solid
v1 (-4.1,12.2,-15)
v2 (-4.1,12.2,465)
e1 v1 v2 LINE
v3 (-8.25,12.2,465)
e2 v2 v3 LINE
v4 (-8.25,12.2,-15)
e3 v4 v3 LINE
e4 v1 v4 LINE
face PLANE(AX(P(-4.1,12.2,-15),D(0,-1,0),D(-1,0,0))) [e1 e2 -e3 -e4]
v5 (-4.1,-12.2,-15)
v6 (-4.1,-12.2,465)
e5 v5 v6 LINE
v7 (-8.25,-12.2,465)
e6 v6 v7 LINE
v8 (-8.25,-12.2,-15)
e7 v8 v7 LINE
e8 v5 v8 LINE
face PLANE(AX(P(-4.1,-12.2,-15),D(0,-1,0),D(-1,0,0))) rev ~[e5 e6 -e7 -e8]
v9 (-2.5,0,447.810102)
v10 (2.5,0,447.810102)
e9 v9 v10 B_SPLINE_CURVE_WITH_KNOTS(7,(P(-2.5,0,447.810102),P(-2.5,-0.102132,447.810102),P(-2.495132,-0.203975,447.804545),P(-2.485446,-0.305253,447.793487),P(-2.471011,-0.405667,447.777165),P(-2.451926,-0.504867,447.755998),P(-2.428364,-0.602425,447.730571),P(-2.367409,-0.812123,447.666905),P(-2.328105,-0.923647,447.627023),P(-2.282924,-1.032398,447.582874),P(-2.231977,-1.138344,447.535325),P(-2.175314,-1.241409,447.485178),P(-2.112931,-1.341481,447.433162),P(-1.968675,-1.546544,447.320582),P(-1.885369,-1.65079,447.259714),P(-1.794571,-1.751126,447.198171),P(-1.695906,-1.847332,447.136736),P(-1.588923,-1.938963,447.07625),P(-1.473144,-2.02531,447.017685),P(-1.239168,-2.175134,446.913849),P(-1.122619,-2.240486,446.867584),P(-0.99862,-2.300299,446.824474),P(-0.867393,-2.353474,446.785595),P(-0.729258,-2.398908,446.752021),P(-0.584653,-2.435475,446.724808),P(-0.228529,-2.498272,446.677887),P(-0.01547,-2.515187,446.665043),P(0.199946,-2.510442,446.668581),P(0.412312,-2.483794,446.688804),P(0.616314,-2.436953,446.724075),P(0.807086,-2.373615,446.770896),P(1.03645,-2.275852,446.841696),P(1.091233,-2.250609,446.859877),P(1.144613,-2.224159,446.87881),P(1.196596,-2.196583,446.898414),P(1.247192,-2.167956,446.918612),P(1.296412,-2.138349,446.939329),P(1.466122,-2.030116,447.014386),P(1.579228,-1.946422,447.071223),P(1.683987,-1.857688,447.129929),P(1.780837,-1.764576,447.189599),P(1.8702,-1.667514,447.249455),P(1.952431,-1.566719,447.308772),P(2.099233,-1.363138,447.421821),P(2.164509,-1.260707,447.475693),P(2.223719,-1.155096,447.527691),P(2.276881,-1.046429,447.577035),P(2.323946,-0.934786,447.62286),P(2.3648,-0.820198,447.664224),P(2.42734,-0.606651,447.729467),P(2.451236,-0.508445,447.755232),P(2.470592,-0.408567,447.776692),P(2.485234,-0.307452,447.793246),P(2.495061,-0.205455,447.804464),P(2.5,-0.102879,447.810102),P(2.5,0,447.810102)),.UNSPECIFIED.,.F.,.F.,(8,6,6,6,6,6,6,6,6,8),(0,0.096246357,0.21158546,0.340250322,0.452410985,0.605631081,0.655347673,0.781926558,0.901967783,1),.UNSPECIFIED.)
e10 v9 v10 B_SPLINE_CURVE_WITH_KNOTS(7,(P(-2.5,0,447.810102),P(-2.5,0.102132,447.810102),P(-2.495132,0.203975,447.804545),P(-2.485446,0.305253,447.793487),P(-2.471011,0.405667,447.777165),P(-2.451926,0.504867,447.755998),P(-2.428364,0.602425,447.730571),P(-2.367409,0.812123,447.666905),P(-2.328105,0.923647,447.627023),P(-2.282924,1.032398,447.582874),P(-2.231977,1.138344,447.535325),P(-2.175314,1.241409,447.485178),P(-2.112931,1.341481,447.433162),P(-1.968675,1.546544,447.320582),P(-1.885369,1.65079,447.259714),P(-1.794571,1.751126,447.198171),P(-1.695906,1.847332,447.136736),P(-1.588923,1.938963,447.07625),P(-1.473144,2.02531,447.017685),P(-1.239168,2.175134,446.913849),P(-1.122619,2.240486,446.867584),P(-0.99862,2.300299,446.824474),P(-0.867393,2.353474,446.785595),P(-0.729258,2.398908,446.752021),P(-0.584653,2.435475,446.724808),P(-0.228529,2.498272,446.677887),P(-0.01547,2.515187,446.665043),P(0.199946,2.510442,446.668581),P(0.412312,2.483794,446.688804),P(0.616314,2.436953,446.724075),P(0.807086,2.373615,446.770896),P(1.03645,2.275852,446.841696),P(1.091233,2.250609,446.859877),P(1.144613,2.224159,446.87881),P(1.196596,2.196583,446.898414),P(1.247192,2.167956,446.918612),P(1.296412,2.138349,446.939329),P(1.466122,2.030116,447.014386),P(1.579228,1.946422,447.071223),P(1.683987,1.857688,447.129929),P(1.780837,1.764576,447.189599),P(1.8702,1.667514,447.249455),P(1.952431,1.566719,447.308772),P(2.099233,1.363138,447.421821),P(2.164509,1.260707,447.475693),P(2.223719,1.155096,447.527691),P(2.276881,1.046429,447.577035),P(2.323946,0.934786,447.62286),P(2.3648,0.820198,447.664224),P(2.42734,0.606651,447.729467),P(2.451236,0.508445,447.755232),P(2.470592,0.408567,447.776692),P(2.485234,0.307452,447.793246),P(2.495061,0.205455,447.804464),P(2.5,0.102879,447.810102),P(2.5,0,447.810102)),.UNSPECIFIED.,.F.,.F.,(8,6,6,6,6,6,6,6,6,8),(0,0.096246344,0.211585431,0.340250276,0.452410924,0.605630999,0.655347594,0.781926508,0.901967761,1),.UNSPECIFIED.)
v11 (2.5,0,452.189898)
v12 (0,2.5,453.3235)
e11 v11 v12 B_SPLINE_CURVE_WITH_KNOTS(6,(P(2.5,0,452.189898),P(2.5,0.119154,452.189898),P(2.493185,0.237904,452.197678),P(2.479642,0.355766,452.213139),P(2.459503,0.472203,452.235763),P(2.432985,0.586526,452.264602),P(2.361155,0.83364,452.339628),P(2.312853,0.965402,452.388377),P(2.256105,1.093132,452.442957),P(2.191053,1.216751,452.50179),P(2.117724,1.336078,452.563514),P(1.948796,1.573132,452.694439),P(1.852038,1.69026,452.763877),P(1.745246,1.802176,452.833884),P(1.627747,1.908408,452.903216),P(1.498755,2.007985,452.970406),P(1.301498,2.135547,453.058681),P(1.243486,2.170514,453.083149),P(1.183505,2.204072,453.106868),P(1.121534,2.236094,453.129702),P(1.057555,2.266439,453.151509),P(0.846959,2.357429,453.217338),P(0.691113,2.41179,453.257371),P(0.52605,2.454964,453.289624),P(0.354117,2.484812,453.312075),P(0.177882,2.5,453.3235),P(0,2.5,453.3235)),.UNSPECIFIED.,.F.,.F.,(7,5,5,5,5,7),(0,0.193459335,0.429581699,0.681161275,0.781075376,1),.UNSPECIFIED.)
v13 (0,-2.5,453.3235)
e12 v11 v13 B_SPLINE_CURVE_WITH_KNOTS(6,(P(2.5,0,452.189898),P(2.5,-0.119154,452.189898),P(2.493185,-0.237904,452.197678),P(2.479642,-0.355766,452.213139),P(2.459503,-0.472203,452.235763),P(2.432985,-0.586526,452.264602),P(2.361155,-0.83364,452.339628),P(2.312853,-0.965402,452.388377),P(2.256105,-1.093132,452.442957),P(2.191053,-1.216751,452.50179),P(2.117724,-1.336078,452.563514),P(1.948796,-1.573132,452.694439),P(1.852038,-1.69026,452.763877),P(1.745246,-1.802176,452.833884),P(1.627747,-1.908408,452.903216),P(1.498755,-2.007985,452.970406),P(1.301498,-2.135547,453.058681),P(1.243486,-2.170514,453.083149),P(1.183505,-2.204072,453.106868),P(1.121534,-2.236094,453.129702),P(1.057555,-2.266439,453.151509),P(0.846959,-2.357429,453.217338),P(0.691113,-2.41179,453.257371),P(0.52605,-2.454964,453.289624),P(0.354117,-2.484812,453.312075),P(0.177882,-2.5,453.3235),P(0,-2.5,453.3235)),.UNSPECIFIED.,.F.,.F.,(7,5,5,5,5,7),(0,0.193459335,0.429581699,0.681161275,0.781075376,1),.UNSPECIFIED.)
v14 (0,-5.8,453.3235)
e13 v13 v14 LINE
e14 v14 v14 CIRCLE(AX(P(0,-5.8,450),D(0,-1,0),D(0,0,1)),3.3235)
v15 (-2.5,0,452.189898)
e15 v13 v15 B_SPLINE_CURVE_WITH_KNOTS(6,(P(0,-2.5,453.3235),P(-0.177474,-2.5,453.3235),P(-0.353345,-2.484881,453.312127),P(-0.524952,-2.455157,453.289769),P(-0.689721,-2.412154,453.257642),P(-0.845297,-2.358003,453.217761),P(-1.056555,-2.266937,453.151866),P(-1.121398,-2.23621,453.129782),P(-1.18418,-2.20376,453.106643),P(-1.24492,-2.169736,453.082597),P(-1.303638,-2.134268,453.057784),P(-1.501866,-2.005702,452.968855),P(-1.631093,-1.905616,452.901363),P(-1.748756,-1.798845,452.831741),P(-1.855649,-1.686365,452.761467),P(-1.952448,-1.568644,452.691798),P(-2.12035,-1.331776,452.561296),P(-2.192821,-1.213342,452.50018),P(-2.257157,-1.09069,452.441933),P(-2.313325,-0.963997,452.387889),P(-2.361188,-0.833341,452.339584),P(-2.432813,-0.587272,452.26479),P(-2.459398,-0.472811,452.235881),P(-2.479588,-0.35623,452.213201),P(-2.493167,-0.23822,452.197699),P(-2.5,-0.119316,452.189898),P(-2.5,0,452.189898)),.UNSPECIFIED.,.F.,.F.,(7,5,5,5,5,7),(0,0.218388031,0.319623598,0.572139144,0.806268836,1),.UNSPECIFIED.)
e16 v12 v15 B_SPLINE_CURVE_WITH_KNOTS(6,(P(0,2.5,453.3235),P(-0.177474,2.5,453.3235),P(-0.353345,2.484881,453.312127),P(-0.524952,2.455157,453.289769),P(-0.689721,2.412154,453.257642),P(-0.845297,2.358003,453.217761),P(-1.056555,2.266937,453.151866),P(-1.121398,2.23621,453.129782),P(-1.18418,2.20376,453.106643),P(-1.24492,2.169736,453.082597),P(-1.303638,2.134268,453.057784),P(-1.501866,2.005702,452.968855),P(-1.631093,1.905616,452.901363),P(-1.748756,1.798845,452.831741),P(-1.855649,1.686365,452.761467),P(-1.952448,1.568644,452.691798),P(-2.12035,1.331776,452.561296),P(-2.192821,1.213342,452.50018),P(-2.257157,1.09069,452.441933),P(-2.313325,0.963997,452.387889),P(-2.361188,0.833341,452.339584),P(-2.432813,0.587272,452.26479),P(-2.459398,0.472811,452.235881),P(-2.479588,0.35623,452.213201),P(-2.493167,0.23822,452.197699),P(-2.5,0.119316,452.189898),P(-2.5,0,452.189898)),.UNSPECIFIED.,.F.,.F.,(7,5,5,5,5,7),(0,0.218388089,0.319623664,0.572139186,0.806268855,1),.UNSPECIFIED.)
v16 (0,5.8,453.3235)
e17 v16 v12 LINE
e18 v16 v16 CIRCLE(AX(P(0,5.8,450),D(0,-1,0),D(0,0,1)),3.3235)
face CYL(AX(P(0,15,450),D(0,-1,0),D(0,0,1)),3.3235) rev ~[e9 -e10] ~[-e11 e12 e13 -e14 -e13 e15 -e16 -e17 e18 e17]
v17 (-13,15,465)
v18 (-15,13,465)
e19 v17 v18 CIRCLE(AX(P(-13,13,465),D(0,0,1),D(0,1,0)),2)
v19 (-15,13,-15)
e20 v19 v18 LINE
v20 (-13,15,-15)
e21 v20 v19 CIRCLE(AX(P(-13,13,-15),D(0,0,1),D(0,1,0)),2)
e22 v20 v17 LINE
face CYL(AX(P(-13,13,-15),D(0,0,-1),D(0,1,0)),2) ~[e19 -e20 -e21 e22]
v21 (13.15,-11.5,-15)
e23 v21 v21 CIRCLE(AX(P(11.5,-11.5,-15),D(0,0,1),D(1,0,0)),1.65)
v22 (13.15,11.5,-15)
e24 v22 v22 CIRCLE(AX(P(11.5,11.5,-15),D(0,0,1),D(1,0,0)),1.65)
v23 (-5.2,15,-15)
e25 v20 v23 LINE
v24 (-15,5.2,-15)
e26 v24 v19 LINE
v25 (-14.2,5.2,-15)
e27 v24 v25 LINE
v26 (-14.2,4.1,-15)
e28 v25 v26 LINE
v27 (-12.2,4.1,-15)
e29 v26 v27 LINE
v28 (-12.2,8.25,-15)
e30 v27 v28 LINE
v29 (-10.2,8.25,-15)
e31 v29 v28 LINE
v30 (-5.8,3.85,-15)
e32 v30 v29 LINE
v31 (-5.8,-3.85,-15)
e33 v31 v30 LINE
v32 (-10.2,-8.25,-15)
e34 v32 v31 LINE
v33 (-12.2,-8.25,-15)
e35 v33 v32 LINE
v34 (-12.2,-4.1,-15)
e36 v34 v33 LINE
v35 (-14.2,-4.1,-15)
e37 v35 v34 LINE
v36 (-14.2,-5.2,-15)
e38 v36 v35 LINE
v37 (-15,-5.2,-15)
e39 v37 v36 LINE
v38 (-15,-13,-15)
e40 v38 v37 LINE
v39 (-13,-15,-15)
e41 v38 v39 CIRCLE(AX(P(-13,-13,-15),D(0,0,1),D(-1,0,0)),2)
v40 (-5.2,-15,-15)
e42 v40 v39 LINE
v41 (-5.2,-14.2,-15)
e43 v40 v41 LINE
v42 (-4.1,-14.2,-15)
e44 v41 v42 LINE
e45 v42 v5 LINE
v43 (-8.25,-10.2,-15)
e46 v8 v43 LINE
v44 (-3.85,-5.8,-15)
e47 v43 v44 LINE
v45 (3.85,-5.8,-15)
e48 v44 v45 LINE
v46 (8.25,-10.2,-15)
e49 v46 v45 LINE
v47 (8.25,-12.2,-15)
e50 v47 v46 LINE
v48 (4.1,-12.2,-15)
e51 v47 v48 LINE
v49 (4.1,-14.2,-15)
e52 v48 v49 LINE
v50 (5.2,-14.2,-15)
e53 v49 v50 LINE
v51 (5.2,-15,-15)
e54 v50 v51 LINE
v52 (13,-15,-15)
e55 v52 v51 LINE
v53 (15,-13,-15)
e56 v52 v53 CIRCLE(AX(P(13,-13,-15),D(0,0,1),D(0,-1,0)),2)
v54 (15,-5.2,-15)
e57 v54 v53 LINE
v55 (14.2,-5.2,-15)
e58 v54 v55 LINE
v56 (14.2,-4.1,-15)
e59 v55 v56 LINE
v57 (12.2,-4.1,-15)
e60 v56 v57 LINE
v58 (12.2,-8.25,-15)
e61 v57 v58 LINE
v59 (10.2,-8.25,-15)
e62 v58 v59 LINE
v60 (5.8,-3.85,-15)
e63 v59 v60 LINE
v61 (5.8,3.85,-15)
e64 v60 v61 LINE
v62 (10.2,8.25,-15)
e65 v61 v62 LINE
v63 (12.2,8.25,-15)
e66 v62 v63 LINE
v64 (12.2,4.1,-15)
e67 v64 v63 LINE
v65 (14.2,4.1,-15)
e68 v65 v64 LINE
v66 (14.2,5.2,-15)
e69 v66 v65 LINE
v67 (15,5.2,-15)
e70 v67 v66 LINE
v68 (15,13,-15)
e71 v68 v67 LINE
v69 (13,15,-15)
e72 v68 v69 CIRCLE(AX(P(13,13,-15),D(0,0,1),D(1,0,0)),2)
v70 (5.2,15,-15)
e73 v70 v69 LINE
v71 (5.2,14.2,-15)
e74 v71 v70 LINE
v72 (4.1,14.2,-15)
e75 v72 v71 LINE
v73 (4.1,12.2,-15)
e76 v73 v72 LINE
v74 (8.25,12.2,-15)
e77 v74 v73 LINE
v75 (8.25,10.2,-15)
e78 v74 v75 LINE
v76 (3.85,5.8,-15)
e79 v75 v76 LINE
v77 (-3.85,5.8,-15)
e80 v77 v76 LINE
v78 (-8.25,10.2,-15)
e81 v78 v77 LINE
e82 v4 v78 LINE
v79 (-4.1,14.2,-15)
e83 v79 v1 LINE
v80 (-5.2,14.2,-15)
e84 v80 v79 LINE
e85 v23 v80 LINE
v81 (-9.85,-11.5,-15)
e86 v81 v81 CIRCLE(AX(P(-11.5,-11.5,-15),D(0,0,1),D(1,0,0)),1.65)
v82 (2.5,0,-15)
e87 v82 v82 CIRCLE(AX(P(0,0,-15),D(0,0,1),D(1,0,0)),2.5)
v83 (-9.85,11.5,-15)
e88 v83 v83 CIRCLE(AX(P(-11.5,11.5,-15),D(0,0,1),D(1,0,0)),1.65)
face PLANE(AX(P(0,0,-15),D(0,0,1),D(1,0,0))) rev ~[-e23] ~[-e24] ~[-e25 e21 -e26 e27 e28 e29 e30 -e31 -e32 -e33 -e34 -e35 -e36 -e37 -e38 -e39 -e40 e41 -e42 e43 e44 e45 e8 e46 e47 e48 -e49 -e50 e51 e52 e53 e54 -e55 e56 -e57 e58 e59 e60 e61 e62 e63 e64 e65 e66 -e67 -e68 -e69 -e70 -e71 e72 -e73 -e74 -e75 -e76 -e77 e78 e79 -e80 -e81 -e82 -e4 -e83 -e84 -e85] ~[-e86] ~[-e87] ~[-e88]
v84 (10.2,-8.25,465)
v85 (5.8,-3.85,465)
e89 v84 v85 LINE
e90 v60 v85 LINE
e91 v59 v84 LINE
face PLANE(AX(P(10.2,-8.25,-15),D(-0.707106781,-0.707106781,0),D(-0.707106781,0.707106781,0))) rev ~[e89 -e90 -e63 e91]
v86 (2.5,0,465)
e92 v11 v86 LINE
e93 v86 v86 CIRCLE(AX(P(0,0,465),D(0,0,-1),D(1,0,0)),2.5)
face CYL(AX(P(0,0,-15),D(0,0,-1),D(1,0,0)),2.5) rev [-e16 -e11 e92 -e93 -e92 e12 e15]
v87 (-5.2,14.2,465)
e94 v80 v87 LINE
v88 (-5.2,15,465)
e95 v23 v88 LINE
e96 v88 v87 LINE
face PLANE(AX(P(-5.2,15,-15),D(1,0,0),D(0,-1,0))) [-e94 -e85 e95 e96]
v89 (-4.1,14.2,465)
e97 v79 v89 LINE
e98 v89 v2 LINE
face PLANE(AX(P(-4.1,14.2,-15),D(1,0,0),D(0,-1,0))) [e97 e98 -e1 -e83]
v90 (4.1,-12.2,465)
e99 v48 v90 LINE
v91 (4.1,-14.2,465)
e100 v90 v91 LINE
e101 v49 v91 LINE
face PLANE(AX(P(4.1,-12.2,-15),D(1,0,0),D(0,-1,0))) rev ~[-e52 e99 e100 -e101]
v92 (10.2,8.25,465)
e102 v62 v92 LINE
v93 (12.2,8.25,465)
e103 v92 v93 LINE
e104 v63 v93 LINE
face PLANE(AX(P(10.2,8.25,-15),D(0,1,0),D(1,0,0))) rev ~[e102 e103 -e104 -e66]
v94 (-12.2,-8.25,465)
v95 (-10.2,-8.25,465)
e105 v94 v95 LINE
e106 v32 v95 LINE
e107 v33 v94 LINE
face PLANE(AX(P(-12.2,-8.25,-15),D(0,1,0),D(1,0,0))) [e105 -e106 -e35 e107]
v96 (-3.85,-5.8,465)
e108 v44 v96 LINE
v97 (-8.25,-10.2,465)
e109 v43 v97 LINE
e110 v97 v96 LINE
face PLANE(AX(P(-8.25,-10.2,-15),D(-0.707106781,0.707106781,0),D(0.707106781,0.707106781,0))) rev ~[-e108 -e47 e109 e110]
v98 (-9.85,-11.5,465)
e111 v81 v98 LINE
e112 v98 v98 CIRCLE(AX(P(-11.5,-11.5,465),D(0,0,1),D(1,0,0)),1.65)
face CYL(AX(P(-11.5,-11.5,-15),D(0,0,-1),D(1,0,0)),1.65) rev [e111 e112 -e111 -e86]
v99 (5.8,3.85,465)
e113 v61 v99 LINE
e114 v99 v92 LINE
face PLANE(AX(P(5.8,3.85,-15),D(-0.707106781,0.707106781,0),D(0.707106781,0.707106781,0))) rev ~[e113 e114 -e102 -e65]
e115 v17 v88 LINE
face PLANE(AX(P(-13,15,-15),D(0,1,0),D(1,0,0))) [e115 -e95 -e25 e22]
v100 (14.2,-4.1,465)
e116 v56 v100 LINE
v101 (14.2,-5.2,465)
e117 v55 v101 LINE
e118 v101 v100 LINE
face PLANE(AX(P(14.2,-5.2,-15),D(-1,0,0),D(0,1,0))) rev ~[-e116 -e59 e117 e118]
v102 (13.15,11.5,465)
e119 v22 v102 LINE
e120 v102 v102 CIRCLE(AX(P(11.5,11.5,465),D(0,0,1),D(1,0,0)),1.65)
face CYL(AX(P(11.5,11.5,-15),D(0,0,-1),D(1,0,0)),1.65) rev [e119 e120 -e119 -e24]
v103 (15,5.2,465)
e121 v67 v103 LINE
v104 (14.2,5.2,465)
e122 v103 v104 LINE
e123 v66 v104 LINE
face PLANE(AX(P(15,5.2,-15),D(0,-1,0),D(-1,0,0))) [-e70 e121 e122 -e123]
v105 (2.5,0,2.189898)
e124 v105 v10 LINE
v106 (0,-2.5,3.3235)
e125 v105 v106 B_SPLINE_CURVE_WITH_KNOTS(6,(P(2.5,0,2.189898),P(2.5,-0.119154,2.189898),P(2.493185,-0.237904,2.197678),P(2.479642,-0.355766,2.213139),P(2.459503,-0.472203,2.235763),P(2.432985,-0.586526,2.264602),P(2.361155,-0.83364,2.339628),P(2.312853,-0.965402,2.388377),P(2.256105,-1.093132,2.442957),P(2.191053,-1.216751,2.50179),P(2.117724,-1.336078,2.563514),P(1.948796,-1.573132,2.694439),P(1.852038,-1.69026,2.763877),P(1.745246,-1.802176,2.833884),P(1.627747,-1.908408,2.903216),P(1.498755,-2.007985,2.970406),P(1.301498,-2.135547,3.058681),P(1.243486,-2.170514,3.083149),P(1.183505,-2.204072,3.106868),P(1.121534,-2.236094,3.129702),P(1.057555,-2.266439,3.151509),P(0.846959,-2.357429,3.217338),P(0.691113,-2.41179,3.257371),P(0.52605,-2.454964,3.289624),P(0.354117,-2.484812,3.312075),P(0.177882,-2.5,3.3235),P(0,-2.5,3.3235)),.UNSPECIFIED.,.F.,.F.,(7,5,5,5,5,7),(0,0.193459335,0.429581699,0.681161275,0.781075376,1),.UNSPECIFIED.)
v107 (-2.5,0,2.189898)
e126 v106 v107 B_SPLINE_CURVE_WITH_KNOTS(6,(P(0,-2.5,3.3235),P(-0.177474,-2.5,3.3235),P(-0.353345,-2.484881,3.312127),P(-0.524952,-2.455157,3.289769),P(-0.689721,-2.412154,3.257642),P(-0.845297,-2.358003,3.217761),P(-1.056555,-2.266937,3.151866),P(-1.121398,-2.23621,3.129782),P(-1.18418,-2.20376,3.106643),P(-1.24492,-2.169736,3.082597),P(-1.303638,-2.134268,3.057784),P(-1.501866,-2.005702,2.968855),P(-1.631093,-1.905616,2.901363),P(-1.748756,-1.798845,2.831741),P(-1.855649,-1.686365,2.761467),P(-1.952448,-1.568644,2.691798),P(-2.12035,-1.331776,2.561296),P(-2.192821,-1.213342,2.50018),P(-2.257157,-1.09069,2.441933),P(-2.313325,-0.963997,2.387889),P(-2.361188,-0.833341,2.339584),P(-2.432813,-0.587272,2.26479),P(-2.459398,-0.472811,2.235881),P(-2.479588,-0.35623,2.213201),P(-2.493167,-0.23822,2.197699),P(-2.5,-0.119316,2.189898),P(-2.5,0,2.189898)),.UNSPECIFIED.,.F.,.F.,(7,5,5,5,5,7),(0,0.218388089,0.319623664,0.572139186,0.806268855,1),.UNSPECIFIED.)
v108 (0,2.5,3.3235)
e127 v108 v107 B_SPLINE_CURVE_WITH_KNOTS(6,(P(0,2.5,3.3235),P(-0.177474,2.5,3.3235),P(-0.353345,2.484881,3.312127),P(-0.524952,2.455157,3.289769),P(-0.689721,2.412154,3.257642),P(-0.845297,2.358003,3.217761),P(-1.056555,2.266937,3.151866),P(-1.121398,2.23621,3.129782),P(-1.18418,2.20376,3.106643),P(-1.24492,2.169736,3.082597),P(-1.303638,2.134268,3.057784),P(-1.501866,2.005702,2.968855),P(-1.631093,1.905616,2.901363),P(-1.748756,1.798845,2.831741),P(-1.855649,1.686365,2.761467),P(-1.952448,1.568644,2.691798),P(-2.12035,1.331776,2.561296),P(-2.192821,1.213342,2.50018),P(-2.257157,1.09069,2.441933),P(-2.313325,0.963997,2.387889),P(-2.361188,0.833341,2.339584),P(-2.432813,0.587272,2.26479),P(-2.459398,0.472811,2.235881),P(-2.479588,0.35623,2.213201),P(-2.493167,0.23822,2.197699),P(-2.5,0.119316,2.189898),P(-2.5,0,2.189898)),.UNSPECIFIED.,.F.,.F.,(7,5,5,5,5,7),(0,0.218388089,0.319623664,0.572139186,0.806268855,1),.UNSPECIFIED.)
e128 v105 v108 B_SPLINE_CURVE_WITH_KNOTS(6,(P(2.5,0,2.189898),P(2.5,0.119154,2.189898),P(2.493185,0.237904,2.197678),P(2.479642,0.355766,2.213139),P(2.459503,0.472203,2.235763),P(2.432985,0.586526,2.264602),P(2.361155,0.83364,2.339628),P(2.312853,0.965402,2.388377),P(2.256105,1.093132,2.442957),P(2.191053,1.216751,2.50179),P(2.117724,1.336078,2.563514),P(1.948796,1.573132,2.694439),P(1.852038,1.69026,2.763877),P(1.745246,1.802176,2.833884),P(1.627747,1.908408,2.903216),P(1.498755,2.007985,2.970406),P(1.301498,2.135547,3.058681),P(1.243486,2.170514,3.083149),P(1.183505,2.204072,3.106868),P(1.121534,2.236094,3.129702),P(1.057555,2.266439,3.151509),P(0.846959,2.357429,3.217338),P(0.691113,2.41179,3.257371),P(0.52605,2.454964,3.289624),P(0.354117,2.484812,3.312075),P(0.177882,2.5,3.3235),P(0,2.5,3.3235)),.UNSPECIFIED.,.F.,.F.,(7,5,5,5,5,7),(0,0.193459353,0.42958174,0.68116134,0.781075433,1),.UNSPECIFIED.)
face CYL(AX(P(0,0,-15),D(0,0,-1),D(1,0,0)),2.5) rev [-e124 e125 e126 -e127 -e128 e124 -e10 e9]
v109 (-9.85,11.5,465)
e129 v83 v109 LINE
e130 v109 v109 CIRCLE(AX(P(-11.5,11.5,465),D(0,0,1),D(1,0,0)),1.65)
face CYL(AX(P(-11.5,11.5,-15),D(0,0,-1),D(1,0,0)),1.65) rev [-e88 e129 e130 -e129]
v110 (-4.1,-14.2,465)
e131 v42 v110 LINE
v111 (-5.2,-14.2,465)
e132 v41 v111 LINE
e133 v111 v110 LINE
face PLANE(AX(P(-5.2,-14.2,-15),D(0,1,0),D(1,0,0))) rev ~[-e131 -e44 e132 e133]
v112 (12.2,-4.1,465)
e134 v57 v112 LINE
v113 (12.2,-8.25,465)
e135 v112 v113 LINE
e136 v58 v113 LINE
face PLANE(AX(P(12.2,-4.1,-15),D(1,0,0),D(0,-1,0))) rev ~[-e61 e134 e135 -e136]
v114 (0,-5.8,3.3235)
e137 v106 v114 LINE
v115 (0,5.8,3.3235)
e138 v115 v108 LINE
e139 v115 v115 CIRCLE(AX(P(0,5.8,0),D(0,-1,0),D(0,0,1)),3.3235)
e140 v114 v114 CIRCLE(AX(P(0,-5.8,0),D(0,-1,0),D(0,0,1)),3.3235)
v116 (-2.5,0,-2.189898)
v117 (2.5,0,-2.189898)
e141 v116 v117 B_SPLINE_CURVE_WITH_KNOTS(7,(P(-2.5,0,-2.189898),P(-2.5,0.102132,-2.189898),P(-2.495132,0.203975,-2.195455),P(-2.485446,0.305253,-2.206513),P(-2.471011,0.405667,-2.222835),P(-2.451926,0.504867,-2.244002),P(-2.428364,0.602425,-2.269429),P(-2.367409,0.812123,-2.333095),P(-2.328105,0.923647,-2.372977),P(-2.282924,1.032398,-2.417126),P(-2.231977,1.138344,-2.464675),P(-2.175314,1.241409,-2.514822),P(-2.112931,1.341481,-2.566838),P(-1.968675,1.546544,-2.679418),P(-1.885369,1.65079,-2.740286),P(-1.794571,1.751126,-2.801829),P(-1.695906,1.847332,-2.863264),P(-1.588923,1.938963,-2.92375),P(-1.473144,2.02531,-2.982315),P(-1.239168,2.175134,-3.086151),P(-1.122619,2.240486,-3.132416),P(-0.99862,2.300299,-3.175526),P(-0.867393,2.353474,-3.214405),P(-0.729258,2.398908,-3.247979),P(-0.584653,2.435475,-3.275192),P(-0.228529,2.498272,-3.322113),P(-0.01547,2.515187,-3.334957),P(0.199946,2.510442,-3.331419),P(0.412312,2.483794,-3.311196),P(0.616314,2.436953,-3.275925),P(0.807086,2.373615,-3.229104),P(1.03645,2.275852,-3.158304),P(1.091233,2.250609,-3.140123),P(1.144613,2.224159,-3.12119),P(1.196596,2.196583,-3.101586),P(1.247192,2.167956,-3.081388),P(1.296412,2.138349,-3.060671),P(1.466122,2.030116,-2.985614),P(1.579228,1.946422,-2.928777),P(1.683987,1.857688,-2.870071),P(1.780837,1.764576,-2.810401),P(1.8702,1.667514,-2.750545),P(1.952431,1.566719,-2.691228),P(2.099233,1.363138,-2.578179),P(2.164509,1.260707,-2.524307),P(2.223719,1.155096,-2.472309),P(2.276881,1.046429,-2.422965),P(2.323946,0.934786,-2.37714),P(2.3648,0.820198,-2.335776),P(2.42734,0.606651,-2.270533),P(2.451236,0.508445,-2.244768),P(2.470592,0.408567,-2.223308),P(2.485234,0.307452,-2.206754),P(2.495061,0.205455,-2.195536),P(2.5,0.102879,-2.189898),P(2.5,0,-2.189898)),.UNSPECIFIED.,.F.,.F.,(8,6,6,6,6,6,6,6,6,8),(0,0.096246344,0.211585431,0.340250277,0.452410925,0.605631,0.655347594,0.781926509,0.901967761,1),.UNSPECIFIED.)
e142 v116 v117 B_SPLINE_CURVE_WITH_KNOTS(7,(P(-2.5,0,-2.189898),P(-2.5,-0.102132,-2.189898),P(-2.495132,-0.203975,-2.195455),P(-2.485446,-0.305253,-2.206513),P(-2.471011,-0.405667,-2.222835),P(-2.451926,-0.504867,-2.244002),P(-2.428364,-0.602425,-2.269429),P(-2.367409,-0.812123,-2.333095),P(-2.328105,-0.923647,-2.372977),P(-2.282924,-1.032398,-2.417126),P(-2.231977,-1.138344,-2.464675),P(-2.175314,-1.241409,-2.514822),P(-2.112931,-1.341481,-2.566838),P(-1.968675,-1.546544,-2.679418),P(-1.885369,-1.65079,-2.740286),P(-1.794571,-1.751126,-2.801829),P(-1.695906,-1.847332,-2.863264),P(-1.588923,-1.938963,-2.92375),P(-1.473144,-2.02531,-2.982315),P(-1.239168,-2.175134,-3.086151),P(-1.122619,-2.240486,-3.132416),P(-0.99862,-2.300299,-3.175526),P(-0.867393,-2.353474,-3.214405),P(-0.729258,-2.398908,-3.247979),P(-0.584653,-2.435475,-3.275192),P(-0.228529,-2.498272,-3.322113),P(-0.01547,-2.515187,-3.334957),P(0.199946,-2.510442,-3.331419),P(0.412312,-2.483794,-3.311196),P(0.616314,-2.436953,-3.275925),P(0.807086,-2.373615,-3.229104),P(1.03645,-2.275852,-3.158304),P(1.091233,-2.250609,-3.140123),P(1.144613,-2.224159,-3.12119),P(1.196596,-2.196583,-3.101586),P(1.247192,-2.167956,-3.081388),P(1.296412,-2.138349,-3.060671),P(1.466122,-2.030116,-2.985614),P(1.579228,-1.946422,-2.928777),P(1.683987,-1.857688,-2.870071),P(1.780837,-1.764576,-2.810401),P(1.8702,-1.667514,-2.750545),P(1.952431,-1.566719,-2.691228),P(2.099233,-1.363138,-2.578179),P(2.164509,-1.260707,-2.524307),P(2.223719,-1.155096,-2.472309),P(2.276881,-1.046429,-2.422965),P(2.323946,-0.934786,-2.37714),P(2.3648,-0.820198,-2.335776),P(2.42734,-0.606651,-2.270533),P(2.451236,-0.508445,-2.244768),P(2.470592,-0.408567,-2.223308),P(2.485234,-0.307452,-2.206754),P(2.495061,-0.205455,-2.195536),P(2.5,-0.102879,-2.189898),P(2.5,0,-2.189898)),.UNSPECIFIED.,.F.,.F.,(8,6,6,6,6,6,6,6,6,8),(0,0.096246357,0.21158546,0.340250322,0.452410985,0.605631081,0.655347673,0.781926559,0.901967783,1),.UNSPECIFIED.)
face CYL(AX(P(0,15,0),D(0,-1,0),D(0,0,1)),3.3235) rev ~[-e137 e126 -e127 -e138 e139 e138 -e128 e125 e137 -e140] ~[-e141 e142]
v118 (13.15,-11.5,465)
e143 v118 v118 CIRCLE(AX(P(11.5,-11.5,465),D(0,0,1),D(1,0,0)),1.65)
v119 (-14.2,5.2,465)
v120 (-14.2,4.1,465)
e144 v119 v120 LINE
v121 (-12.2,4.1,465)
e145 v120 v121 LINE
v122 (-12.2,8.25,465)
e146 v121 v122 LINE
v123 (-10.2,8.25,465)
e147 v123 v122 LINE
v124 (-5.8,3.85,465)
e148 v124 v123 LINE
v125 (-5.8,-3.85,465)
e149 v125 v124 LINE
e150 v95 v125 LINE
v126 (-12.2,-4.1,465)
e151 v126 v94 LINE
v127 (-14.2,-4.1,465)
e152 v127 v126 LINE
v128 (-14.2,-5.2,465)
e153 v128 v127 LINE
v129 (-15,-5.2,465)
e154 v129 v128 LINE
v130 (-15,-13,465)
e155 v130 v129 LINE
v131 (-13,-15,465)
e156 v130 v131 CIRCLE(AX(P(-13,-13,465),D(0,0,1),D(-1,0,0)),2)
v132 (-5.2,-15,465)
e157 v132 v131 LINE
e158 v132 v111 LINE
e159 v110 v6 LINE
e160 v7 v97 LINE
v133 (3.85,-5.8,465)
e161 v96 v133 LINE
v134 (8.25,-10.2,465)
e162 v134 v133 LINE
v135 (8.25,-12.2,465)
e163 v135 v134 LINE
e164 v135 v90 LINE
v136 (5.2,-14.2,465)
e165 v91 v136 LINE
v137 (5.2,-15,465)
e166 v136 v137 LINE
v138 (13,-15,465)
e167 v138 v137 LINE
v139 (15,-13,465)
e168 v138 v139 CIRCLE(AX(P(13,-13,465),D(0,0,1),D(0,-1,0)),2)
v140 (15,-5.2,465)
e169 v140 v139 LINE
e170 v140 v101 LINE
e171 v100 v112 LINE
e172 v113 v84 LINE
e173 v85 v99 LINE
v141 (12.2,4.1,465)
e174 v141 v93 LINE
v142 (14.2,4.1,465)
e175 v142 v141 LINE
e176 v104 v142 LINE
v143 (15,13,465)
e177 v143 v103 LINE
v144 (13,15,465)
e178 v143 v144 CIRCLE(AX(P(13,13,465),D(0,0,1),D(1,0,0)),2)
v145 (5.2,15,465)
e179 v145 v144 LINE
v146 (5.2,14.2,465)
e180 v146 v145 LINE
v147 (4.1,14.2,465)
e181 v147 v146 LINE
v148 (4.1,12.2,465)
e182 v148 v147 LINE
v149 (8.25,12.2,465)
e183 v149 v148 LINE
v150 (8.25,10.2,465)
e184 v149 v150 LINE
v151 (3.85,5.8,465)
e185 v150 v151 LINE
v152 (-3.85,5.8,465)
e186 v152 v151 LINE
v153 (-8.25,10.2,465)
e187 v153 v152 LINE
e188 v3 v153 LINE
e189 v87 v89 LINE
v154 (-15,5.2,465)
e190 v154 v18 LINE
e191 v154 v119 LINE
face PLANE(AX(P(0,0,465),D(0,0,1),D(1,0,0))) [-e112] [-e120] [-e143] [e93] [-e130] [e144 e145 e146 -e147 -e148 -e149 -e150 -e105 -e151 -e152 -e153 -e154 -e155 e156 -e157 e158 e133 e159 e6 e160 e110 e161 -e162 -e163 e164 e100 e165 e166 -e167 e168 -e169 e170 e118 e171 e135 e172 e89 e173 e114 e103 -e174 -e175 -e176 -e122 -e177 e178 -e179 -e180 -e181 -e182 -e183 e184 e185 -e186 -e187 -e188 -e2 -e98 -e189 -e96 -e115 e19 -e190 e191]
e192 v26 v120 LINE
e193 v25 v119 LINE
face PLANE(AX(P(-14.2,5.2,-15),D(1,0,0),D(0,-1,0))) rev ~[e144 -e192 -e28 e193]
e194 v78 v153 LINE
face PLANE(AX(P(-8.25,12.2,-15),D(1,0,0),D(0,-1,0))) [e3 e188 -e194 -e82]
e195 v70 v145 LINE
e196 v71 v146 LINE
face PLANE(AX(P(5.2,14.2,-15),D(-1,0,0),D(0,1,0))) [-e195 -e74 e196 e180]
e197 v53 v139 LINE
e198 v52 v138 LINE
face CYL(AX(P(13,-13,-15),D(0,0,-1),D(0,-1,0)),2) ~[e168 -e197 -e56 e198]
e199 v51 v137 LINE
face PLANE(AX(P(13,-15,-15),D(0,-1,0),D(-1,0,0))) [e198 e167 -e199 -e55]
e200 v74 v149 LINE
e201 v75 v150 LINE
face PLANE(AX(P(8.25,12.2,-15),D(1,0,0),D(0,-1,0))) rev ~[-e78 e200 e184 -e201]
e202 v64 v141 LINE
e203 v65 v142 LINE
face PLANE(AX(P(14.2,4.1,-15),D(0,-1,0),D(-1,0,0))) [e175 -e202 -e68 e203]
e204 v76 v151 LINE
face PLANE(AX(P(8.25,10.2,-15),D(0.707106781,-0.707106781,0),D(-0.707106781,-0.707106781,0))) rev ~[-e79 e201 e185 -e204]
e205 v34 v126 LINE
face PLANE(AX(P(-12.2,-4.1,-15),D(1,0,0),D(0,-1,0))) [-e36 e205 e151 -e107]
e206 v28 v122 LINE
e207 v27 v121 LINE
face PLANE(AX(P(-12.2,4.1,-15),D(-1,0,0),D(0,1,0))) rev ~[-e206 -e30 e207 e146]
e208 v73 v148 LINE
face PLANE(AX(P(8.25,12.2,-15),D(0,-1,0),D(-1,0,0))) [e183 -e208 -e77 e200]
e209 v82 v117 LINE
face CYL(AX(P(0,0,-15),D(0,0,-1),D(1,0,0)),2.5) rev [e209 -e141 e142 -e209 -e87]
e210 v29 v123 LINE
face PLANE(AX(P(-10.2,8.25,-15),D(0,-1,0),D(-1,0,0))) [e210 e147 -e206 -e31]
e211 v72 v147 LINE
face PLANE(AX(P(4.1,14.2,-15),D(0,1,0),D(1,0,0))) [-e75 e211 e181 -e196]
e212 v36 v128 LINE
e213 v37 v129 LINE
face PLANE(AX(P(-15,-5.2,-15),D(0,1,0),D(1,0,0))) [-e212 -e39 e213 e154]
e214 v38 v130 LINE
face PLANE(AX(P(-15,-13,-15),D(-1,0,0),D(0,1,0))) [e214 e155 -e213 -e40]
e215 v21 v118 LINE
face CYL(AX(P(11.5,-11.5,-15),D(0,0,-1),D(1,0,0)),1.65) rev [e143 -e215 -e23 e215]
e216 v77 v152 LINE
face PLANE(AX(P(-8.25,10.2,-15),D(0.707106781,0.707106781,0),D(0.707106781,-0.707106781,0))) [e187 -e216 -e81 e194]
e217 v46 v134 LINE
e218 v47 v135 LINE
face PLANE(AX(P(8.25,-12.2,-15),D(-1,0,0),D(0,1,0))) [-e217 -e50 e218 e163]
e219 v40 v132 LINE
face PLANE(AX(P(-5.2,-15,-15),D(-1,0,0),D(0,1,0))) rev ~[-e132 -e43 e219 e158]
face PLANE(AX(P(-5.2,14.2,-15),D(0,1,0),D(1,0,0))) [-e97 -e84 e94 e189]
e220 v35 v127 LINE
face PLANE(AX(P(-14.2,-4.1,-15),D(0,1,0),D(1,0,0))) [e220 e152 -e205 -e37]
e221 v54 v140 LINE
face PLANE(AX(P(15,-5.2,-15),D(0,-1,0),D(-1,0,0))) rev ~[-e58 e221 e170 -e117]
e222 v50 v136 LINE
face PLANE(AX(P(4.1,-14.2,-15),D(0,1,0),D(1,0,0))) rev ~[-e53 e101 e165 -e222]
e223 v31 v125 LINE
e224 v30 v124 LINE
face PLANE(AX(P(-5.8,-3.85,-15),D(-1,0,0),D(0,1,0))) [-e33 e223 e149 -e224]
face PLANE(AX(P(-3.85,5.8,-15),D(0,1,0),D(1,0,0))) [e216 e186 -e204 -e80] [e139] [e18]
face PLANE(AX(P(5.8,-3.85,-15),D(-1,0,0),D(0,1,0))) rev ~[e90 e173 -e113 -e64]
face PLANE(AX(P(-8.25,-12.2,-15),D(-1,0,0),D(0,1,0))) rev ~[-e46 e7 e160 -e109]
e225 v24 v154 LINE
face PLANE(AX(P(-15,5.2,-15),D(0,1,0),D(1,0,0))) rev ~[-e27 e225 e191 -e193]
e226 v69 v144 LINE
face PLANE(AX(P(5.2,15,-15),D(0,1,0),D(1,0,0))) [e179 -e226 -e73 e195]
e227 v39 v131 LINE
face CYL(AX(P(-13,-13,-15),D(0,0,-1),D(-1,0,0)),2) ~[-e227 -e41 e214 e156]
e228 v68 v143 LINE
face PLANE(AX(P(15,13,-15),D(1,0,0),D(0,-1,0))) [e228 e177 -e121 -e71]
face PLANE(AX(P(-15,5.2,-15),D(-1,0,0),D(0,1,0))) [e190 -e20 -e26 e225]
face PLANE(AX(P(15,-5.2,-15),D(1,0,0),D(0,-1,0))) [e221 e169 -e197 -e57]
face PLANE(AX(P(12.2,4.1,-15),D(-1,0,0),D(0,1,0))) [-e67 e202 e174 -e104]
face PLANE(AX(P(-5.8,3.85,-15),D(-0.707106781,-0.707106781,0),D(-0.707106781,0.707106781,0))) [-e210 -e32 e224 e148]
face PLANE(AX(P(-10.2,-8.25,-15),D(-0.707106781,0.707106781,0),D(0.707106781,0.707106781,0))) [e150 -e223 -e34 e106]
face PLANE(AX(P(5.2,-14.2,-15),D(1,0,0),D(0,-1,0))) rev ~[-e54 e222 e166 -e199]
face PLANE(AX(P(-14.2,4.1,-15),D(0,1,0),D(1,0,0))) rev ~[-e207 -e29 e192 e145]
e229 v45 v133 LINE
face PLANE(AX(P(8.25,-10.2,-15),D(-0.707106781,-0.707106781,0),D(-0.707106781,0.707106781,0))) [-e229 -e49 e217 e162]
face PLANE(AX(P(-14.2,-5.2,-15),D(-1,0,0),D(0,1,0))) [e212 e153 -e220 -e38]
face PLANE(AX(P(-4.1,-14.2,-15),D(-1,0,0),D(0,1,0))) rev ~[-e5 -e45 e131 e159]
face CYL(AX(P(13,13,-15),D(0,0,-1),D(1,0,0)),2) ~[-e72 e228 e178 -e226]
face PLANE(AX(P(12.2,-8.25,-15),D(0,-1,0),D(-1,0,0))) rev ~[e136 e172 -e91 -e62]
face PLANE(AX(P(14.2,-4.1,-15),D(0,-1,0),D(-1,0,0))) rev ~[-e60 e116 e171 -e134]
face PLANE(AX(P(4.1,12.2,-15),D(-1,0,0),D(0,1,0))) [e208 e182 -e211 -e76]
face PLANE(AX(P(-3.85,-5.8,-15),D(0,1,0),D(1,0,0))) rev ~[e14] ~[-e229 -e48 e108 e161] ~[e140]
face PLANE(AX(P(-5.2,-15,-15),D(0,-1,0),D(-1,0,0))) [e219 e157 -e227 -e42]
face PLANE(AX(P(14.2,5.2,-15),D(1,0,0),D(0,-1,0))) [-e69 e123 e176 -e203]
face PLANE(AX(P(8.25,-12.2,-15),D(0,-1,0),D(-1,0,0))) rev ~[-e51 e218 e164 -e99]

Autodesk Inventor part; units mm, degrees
sketch "Sketch" plane through (0, 0, 0) normal (0, 0, 1) x (1, 0, 0)
  line L0 (-13, 15) -> (13, 15)
  line L1 (15, 13) -> (15, -13)
  line L2 (-15, 15) -> (15, -15) construction
  line L3 (15, 15) -> (-15, -15) construction
  line L4 (-5.2, 15) -> (-5.2, 14.2)
  line L5 (-5.2, 14.2) -> (-4.1, 14.2)
  line L6 (-4.1, 14.2) -> (-4.1, 12.2)
  line L7 (-4.1, 12.2) -> (-8.25, 12.2)
  line L8 (-8.25, 12.2) -> (-8.25, 10.2)
  line L9 (-8.25, 10.2) -> (-3.85, 5.8)
  line L10 (-3.85, 5.8) -> (3.85, 5.8)
  line L11 (8.25, 12.2) -> (4.1, 12.2)
  line L12 (4.1, 12.2) -> (4.1, 14.2)
  line L13 (4.1, 14.2) -> (5.2, 14.2)
  line L14 (5.2, 14.2) -> (5.2, 15)
  line L15 (8.25, 12.2) -> (8.25, 10.2)
  line L16 (8.25, 10.2) -> (3.85, 5.8)
  line L17 (-2.5, 0) -> (0, 0)
  line L18 (-5.2, -15) -> (-5.2, -14.2)
  line L19 (-5.2, -14.2) -> (-4.1, -14.2)
  line L20 (-4.1, -14.2) -> (-4.1, -12.2)
  line L21 (-4.1, -12.2) -> (-8.25, -12.2)
  line L22 (-8.25, -12.2) -> (-8.25, -10.2)
  line L23 (-8.25, -10.2) -> (-3.85, -5.8)
  line L24 (-3.85, -5.8) -> (3.85, -5.8)
  line L25 (8.25, -12.2) -> (4.1, -12.2)
  line L26 (4.1, -12.2) -> (4.1, -14.2)
  line L27 (4.1, -14.2) -> (5.2, -14.2)
  line L28 (5.2, -14.2) -> (5.2, -15)
  line L29 (8.25, -12.2) -> (8.25, -10.2)
  line L30 (8.25, -10.2) -> (3.85, -5.8)
  line L31 (15, 5.2) -> (14.2, 5.2)
  line L32 (14.2, 5.2) -> (14.2, 4.1)
  line L33 (14.2, 4.1) -> (12.2, 4.1)
  line L34 (12.2, 4.1) -> (12.2, 8.25)
  line L35 (15, -5.2) -> (14.2, -5.2)
  line L36 (14.2, -5.2) -> (14.2, -4.1)
  line L37 (14.2, -4.1) -> (12.2, -4.1)
  line L38 (12.2, -4.1) -> (12.2, -8.25)
  line L39 (12.2, -8.25) -> (10.2, -8.25)
  line L40 (10.2, -8.25) -> (5.8, -3.85)
  line L41 (5.8, -3.85) -> (5.8, 3.85)
  line L42 (5.8, 3.85) -> (10.2, 8.25)
  line L43 (10.2, 8.25) -> (12.2, 8.25)
  line L44 (-15, 5.2) -> (-14.2, 5.2)
  line L45 (-14.2, 5.2) -> (-14.2, 4.1)
  line L46 (-14.2, 4.1) -> (-12.2, 4.1)
  line L47 (-12.2, 4.1) -> (-12.2, 8.25)
  line L48 (-15, -5.2) -> (-14.2, -5.2)
  line L49 (-14.2, -5.2) -> (-14.2, -4.1)
  line L50 (-14.2, -4.1) -> (-12.2, -4.1)
  line L51 (-12.2, -4.1) -> (-12.2, -8.25)
  line L52 (-12.2, -8.25) -> (-10.2, -8.25)
  line L53 (-10.2, -8.25) -> (-5.8, -3.85)
  line L54 (-5.8, -3.85) -> (-5.8, 3.85)
  line L55 (-5.8, 3.85) -> (-10.2, 8.25)
  line L56 (-10.2, 8.25) -> (-12.2, 8.25)
  circle A0 centre (11.5, 11.5) radius 1.65
  circle A1 centre (11.5, -11.5) radius 1.65
  circle A2 centre (-11.5, 11.5) radius 1.65
  circle A3 centre (-11.5, -11.5) radius 1.65
  line L57 (-15, -13) -> (-15, -5.2)
  line L58 (-15, 5.2) -> (-15, 13)
  line L59 (13, -15) -> (5.2, -15)
  line L60 (-5.2, -15) -> (-13, -15)
  arc A4 (-13, 15) -> (-15, 13) centre (-13, 13) ccw
  arc A5 (15, 13) -> (13, 15) centre (13, 13) ccw
  arc A6 (13, -15) -> (15, -13) centre (13, -13) ccw
  arc A7 (-15, -13) -> (-13, -15) centre (-13, -13) ccw
  circle A8 centre (0, 0) radius 2.5
  point P0 (0, 0)
  point P1 (0, 5.8)
  point P2 (0, -2.5)
  point P3 (0, 2.5)
  dimension "d2" = 8.2
  dimension "d3" = 4.1
  dimension "d4" = 10.4
  dimension "d5" = 5.2
  dimension "d8" = 9.2
  dimension "d11" = 16.5
  dimension "d12" = 8.25
  dimension "d14" = 0.8
  dimension "d15" = 2
  dimension "d16" = 2
  dimension "d34" = 0.8
  dimension "d35" = 10.4
  dimension "d36" = 5.2
  dimension "d37" = 8.2
  dimension "d38" = 4.1
  dimension "d39" = 2
  dimension "d40" = 16.5
  dimension "d41" = 8.25
  dimension "d42" = 2
  dimension "d43" = 9.2
  dimension "d44" = 23
  dimension "d45" = 11.5
  dimension "d46" = 23
  dimension "d48" = 3.3
  dimension "d55" = 2
  dimension "d62" = 5
  dimension "d65" = 11.5
  dimension "d66" = 6.4
  dimension "d67" = 3.25
  dimension "d68" = 4.15
  dimension "d69" = 0.8
  dimension "d70" = 2
  dimension "d71" = 2.7577
  dimension "d72" = 5.8
  dimension "d73" = 2.7577
  dimension "d74" = 4.15
  dimension "d75" = 2
  dimension "d76" = 3.25
  dimension "d77" = 2
  dimension "d78" = 1.1
  dimension "d79" = 0.8
  dimension "d80" = 135
  dimension "d81" = 2
  dimension "d82" = 1.1
  dimension "d83" = 7.4
  dimension "d84" = 7.4
  dimension "d85" = 6.4
  dimension "d86" = 6.3
ref_plane "Work Plane3" through (0, 0, 250) normal (0, 0, 1) x (1, 0, 0)
ref_plane "Start Plane" through (0, 0, 0) normal (0, 0, 1) x (1, 0, 0)
ref_plane "End Plane" through (0, 0, 450) normal (0, 0, 1) x (1, 0, 0)
ref_plane "Start Plane1" through (0, 0, 0) normal (0, 0, 1) x (1, 0, 0)
ref_plane "End Plane1" through (0, 0, 450) normal (0, 0, 1) x (1, 0, 0)
ref_plane "Start Plane2" through (0, 0, -15) normal (0, 0, 1) x (1, 0, 0)
ref_plane "End Plane2" through (0, 0, 465) normal (0, 0, 1) x (1, 0, 0)
extrude "Body" add sketch "Sketch" along normal up to surface (480 mm away) from surface at -15 contours L0 L4 L5 L6 L7 L8 L9 L10 L16 L15 L11 L12 L13 L14 A5 L1 L31 L32 L33 L34 L43 L42 L41 L40 L39 L38 L37 L36 L35 A6 L59 L28 L27 L26 L25 L29 L30 L24 L23 L22 L21 L20 L19 L18 L60 A7 L57 L48 L49 L50 L51 L52 L53 L54 L55 L56 L47 L46 L45 L44 L58 A4
sketch "Sketch7" plane through (0, 0, 0) normal (0, 0, 1) x (1, 0, 0)
  line L0 (0, 0) -> (10, 0)
ref_plane "Work Plane10" through (0, 0, 0) normal (0, -1, 0) x (1, 0, 0)
sketch "Sketch8" plane through (0, 0, 0) normal (0, -1, 0) x (1, 0, 0)
  line L0 (-2, -15) -> (12, -15)
  line L1 (-2, 465) -> (12, 465)
  dimension "d100" = 480
sketch "Sketch10" plane through (-5.2, 15, 465) normal (0, 1, 0) x (1, 0, 0)
  line L0 (1.35, 0) -> (9.05, 0) projected
  point P0 (5.2, 465)
  point P1 (5.2, 465)
  point P2 (5.2, 15)
  point P3 (5.2, 0)
  dimension "d110" = 15
hole "Hole2" at (0, 15, 0) at (0, 15, 450) direction (0, -1, 0) diameter 6.647 end through all thread size "M8x1.25" class "6H" standard "ISO Metric profile"
equation "\"d3\" = 0.5 * d2"
equation "\"d5\" = 0.5 * d4"
equation "\"d12\" = 0.5 * d11"
equation "\"d36\" = 0.5 * d35"
equation "\"d38\" = 0.5 * d37"
equation "\"d41\" = 0.5 * d40"
equation "\"d45\" = 0.5 * d44"
equation "\"G_OFFSET_START\" = 0"
equation "\"G_OFFSET_END\" = 0"
equation "\"G_L\" = 500"
equation "\"G_OFFSET_START1\" = 0"
equation "\"G_OFFSET_END1\" = 0"
equation "\"G_OFFSET_START2\" = 15"
equation "\"G_OFFSET_END2\" = 15"
equation "\"d95\" = -G_OFFSET_START2"
equation "\"d96\" = Length + G_OFFSET_END2"
equation "\"Length\" = 450"
properties part number "480 mm" material "Aluminum 6061"
